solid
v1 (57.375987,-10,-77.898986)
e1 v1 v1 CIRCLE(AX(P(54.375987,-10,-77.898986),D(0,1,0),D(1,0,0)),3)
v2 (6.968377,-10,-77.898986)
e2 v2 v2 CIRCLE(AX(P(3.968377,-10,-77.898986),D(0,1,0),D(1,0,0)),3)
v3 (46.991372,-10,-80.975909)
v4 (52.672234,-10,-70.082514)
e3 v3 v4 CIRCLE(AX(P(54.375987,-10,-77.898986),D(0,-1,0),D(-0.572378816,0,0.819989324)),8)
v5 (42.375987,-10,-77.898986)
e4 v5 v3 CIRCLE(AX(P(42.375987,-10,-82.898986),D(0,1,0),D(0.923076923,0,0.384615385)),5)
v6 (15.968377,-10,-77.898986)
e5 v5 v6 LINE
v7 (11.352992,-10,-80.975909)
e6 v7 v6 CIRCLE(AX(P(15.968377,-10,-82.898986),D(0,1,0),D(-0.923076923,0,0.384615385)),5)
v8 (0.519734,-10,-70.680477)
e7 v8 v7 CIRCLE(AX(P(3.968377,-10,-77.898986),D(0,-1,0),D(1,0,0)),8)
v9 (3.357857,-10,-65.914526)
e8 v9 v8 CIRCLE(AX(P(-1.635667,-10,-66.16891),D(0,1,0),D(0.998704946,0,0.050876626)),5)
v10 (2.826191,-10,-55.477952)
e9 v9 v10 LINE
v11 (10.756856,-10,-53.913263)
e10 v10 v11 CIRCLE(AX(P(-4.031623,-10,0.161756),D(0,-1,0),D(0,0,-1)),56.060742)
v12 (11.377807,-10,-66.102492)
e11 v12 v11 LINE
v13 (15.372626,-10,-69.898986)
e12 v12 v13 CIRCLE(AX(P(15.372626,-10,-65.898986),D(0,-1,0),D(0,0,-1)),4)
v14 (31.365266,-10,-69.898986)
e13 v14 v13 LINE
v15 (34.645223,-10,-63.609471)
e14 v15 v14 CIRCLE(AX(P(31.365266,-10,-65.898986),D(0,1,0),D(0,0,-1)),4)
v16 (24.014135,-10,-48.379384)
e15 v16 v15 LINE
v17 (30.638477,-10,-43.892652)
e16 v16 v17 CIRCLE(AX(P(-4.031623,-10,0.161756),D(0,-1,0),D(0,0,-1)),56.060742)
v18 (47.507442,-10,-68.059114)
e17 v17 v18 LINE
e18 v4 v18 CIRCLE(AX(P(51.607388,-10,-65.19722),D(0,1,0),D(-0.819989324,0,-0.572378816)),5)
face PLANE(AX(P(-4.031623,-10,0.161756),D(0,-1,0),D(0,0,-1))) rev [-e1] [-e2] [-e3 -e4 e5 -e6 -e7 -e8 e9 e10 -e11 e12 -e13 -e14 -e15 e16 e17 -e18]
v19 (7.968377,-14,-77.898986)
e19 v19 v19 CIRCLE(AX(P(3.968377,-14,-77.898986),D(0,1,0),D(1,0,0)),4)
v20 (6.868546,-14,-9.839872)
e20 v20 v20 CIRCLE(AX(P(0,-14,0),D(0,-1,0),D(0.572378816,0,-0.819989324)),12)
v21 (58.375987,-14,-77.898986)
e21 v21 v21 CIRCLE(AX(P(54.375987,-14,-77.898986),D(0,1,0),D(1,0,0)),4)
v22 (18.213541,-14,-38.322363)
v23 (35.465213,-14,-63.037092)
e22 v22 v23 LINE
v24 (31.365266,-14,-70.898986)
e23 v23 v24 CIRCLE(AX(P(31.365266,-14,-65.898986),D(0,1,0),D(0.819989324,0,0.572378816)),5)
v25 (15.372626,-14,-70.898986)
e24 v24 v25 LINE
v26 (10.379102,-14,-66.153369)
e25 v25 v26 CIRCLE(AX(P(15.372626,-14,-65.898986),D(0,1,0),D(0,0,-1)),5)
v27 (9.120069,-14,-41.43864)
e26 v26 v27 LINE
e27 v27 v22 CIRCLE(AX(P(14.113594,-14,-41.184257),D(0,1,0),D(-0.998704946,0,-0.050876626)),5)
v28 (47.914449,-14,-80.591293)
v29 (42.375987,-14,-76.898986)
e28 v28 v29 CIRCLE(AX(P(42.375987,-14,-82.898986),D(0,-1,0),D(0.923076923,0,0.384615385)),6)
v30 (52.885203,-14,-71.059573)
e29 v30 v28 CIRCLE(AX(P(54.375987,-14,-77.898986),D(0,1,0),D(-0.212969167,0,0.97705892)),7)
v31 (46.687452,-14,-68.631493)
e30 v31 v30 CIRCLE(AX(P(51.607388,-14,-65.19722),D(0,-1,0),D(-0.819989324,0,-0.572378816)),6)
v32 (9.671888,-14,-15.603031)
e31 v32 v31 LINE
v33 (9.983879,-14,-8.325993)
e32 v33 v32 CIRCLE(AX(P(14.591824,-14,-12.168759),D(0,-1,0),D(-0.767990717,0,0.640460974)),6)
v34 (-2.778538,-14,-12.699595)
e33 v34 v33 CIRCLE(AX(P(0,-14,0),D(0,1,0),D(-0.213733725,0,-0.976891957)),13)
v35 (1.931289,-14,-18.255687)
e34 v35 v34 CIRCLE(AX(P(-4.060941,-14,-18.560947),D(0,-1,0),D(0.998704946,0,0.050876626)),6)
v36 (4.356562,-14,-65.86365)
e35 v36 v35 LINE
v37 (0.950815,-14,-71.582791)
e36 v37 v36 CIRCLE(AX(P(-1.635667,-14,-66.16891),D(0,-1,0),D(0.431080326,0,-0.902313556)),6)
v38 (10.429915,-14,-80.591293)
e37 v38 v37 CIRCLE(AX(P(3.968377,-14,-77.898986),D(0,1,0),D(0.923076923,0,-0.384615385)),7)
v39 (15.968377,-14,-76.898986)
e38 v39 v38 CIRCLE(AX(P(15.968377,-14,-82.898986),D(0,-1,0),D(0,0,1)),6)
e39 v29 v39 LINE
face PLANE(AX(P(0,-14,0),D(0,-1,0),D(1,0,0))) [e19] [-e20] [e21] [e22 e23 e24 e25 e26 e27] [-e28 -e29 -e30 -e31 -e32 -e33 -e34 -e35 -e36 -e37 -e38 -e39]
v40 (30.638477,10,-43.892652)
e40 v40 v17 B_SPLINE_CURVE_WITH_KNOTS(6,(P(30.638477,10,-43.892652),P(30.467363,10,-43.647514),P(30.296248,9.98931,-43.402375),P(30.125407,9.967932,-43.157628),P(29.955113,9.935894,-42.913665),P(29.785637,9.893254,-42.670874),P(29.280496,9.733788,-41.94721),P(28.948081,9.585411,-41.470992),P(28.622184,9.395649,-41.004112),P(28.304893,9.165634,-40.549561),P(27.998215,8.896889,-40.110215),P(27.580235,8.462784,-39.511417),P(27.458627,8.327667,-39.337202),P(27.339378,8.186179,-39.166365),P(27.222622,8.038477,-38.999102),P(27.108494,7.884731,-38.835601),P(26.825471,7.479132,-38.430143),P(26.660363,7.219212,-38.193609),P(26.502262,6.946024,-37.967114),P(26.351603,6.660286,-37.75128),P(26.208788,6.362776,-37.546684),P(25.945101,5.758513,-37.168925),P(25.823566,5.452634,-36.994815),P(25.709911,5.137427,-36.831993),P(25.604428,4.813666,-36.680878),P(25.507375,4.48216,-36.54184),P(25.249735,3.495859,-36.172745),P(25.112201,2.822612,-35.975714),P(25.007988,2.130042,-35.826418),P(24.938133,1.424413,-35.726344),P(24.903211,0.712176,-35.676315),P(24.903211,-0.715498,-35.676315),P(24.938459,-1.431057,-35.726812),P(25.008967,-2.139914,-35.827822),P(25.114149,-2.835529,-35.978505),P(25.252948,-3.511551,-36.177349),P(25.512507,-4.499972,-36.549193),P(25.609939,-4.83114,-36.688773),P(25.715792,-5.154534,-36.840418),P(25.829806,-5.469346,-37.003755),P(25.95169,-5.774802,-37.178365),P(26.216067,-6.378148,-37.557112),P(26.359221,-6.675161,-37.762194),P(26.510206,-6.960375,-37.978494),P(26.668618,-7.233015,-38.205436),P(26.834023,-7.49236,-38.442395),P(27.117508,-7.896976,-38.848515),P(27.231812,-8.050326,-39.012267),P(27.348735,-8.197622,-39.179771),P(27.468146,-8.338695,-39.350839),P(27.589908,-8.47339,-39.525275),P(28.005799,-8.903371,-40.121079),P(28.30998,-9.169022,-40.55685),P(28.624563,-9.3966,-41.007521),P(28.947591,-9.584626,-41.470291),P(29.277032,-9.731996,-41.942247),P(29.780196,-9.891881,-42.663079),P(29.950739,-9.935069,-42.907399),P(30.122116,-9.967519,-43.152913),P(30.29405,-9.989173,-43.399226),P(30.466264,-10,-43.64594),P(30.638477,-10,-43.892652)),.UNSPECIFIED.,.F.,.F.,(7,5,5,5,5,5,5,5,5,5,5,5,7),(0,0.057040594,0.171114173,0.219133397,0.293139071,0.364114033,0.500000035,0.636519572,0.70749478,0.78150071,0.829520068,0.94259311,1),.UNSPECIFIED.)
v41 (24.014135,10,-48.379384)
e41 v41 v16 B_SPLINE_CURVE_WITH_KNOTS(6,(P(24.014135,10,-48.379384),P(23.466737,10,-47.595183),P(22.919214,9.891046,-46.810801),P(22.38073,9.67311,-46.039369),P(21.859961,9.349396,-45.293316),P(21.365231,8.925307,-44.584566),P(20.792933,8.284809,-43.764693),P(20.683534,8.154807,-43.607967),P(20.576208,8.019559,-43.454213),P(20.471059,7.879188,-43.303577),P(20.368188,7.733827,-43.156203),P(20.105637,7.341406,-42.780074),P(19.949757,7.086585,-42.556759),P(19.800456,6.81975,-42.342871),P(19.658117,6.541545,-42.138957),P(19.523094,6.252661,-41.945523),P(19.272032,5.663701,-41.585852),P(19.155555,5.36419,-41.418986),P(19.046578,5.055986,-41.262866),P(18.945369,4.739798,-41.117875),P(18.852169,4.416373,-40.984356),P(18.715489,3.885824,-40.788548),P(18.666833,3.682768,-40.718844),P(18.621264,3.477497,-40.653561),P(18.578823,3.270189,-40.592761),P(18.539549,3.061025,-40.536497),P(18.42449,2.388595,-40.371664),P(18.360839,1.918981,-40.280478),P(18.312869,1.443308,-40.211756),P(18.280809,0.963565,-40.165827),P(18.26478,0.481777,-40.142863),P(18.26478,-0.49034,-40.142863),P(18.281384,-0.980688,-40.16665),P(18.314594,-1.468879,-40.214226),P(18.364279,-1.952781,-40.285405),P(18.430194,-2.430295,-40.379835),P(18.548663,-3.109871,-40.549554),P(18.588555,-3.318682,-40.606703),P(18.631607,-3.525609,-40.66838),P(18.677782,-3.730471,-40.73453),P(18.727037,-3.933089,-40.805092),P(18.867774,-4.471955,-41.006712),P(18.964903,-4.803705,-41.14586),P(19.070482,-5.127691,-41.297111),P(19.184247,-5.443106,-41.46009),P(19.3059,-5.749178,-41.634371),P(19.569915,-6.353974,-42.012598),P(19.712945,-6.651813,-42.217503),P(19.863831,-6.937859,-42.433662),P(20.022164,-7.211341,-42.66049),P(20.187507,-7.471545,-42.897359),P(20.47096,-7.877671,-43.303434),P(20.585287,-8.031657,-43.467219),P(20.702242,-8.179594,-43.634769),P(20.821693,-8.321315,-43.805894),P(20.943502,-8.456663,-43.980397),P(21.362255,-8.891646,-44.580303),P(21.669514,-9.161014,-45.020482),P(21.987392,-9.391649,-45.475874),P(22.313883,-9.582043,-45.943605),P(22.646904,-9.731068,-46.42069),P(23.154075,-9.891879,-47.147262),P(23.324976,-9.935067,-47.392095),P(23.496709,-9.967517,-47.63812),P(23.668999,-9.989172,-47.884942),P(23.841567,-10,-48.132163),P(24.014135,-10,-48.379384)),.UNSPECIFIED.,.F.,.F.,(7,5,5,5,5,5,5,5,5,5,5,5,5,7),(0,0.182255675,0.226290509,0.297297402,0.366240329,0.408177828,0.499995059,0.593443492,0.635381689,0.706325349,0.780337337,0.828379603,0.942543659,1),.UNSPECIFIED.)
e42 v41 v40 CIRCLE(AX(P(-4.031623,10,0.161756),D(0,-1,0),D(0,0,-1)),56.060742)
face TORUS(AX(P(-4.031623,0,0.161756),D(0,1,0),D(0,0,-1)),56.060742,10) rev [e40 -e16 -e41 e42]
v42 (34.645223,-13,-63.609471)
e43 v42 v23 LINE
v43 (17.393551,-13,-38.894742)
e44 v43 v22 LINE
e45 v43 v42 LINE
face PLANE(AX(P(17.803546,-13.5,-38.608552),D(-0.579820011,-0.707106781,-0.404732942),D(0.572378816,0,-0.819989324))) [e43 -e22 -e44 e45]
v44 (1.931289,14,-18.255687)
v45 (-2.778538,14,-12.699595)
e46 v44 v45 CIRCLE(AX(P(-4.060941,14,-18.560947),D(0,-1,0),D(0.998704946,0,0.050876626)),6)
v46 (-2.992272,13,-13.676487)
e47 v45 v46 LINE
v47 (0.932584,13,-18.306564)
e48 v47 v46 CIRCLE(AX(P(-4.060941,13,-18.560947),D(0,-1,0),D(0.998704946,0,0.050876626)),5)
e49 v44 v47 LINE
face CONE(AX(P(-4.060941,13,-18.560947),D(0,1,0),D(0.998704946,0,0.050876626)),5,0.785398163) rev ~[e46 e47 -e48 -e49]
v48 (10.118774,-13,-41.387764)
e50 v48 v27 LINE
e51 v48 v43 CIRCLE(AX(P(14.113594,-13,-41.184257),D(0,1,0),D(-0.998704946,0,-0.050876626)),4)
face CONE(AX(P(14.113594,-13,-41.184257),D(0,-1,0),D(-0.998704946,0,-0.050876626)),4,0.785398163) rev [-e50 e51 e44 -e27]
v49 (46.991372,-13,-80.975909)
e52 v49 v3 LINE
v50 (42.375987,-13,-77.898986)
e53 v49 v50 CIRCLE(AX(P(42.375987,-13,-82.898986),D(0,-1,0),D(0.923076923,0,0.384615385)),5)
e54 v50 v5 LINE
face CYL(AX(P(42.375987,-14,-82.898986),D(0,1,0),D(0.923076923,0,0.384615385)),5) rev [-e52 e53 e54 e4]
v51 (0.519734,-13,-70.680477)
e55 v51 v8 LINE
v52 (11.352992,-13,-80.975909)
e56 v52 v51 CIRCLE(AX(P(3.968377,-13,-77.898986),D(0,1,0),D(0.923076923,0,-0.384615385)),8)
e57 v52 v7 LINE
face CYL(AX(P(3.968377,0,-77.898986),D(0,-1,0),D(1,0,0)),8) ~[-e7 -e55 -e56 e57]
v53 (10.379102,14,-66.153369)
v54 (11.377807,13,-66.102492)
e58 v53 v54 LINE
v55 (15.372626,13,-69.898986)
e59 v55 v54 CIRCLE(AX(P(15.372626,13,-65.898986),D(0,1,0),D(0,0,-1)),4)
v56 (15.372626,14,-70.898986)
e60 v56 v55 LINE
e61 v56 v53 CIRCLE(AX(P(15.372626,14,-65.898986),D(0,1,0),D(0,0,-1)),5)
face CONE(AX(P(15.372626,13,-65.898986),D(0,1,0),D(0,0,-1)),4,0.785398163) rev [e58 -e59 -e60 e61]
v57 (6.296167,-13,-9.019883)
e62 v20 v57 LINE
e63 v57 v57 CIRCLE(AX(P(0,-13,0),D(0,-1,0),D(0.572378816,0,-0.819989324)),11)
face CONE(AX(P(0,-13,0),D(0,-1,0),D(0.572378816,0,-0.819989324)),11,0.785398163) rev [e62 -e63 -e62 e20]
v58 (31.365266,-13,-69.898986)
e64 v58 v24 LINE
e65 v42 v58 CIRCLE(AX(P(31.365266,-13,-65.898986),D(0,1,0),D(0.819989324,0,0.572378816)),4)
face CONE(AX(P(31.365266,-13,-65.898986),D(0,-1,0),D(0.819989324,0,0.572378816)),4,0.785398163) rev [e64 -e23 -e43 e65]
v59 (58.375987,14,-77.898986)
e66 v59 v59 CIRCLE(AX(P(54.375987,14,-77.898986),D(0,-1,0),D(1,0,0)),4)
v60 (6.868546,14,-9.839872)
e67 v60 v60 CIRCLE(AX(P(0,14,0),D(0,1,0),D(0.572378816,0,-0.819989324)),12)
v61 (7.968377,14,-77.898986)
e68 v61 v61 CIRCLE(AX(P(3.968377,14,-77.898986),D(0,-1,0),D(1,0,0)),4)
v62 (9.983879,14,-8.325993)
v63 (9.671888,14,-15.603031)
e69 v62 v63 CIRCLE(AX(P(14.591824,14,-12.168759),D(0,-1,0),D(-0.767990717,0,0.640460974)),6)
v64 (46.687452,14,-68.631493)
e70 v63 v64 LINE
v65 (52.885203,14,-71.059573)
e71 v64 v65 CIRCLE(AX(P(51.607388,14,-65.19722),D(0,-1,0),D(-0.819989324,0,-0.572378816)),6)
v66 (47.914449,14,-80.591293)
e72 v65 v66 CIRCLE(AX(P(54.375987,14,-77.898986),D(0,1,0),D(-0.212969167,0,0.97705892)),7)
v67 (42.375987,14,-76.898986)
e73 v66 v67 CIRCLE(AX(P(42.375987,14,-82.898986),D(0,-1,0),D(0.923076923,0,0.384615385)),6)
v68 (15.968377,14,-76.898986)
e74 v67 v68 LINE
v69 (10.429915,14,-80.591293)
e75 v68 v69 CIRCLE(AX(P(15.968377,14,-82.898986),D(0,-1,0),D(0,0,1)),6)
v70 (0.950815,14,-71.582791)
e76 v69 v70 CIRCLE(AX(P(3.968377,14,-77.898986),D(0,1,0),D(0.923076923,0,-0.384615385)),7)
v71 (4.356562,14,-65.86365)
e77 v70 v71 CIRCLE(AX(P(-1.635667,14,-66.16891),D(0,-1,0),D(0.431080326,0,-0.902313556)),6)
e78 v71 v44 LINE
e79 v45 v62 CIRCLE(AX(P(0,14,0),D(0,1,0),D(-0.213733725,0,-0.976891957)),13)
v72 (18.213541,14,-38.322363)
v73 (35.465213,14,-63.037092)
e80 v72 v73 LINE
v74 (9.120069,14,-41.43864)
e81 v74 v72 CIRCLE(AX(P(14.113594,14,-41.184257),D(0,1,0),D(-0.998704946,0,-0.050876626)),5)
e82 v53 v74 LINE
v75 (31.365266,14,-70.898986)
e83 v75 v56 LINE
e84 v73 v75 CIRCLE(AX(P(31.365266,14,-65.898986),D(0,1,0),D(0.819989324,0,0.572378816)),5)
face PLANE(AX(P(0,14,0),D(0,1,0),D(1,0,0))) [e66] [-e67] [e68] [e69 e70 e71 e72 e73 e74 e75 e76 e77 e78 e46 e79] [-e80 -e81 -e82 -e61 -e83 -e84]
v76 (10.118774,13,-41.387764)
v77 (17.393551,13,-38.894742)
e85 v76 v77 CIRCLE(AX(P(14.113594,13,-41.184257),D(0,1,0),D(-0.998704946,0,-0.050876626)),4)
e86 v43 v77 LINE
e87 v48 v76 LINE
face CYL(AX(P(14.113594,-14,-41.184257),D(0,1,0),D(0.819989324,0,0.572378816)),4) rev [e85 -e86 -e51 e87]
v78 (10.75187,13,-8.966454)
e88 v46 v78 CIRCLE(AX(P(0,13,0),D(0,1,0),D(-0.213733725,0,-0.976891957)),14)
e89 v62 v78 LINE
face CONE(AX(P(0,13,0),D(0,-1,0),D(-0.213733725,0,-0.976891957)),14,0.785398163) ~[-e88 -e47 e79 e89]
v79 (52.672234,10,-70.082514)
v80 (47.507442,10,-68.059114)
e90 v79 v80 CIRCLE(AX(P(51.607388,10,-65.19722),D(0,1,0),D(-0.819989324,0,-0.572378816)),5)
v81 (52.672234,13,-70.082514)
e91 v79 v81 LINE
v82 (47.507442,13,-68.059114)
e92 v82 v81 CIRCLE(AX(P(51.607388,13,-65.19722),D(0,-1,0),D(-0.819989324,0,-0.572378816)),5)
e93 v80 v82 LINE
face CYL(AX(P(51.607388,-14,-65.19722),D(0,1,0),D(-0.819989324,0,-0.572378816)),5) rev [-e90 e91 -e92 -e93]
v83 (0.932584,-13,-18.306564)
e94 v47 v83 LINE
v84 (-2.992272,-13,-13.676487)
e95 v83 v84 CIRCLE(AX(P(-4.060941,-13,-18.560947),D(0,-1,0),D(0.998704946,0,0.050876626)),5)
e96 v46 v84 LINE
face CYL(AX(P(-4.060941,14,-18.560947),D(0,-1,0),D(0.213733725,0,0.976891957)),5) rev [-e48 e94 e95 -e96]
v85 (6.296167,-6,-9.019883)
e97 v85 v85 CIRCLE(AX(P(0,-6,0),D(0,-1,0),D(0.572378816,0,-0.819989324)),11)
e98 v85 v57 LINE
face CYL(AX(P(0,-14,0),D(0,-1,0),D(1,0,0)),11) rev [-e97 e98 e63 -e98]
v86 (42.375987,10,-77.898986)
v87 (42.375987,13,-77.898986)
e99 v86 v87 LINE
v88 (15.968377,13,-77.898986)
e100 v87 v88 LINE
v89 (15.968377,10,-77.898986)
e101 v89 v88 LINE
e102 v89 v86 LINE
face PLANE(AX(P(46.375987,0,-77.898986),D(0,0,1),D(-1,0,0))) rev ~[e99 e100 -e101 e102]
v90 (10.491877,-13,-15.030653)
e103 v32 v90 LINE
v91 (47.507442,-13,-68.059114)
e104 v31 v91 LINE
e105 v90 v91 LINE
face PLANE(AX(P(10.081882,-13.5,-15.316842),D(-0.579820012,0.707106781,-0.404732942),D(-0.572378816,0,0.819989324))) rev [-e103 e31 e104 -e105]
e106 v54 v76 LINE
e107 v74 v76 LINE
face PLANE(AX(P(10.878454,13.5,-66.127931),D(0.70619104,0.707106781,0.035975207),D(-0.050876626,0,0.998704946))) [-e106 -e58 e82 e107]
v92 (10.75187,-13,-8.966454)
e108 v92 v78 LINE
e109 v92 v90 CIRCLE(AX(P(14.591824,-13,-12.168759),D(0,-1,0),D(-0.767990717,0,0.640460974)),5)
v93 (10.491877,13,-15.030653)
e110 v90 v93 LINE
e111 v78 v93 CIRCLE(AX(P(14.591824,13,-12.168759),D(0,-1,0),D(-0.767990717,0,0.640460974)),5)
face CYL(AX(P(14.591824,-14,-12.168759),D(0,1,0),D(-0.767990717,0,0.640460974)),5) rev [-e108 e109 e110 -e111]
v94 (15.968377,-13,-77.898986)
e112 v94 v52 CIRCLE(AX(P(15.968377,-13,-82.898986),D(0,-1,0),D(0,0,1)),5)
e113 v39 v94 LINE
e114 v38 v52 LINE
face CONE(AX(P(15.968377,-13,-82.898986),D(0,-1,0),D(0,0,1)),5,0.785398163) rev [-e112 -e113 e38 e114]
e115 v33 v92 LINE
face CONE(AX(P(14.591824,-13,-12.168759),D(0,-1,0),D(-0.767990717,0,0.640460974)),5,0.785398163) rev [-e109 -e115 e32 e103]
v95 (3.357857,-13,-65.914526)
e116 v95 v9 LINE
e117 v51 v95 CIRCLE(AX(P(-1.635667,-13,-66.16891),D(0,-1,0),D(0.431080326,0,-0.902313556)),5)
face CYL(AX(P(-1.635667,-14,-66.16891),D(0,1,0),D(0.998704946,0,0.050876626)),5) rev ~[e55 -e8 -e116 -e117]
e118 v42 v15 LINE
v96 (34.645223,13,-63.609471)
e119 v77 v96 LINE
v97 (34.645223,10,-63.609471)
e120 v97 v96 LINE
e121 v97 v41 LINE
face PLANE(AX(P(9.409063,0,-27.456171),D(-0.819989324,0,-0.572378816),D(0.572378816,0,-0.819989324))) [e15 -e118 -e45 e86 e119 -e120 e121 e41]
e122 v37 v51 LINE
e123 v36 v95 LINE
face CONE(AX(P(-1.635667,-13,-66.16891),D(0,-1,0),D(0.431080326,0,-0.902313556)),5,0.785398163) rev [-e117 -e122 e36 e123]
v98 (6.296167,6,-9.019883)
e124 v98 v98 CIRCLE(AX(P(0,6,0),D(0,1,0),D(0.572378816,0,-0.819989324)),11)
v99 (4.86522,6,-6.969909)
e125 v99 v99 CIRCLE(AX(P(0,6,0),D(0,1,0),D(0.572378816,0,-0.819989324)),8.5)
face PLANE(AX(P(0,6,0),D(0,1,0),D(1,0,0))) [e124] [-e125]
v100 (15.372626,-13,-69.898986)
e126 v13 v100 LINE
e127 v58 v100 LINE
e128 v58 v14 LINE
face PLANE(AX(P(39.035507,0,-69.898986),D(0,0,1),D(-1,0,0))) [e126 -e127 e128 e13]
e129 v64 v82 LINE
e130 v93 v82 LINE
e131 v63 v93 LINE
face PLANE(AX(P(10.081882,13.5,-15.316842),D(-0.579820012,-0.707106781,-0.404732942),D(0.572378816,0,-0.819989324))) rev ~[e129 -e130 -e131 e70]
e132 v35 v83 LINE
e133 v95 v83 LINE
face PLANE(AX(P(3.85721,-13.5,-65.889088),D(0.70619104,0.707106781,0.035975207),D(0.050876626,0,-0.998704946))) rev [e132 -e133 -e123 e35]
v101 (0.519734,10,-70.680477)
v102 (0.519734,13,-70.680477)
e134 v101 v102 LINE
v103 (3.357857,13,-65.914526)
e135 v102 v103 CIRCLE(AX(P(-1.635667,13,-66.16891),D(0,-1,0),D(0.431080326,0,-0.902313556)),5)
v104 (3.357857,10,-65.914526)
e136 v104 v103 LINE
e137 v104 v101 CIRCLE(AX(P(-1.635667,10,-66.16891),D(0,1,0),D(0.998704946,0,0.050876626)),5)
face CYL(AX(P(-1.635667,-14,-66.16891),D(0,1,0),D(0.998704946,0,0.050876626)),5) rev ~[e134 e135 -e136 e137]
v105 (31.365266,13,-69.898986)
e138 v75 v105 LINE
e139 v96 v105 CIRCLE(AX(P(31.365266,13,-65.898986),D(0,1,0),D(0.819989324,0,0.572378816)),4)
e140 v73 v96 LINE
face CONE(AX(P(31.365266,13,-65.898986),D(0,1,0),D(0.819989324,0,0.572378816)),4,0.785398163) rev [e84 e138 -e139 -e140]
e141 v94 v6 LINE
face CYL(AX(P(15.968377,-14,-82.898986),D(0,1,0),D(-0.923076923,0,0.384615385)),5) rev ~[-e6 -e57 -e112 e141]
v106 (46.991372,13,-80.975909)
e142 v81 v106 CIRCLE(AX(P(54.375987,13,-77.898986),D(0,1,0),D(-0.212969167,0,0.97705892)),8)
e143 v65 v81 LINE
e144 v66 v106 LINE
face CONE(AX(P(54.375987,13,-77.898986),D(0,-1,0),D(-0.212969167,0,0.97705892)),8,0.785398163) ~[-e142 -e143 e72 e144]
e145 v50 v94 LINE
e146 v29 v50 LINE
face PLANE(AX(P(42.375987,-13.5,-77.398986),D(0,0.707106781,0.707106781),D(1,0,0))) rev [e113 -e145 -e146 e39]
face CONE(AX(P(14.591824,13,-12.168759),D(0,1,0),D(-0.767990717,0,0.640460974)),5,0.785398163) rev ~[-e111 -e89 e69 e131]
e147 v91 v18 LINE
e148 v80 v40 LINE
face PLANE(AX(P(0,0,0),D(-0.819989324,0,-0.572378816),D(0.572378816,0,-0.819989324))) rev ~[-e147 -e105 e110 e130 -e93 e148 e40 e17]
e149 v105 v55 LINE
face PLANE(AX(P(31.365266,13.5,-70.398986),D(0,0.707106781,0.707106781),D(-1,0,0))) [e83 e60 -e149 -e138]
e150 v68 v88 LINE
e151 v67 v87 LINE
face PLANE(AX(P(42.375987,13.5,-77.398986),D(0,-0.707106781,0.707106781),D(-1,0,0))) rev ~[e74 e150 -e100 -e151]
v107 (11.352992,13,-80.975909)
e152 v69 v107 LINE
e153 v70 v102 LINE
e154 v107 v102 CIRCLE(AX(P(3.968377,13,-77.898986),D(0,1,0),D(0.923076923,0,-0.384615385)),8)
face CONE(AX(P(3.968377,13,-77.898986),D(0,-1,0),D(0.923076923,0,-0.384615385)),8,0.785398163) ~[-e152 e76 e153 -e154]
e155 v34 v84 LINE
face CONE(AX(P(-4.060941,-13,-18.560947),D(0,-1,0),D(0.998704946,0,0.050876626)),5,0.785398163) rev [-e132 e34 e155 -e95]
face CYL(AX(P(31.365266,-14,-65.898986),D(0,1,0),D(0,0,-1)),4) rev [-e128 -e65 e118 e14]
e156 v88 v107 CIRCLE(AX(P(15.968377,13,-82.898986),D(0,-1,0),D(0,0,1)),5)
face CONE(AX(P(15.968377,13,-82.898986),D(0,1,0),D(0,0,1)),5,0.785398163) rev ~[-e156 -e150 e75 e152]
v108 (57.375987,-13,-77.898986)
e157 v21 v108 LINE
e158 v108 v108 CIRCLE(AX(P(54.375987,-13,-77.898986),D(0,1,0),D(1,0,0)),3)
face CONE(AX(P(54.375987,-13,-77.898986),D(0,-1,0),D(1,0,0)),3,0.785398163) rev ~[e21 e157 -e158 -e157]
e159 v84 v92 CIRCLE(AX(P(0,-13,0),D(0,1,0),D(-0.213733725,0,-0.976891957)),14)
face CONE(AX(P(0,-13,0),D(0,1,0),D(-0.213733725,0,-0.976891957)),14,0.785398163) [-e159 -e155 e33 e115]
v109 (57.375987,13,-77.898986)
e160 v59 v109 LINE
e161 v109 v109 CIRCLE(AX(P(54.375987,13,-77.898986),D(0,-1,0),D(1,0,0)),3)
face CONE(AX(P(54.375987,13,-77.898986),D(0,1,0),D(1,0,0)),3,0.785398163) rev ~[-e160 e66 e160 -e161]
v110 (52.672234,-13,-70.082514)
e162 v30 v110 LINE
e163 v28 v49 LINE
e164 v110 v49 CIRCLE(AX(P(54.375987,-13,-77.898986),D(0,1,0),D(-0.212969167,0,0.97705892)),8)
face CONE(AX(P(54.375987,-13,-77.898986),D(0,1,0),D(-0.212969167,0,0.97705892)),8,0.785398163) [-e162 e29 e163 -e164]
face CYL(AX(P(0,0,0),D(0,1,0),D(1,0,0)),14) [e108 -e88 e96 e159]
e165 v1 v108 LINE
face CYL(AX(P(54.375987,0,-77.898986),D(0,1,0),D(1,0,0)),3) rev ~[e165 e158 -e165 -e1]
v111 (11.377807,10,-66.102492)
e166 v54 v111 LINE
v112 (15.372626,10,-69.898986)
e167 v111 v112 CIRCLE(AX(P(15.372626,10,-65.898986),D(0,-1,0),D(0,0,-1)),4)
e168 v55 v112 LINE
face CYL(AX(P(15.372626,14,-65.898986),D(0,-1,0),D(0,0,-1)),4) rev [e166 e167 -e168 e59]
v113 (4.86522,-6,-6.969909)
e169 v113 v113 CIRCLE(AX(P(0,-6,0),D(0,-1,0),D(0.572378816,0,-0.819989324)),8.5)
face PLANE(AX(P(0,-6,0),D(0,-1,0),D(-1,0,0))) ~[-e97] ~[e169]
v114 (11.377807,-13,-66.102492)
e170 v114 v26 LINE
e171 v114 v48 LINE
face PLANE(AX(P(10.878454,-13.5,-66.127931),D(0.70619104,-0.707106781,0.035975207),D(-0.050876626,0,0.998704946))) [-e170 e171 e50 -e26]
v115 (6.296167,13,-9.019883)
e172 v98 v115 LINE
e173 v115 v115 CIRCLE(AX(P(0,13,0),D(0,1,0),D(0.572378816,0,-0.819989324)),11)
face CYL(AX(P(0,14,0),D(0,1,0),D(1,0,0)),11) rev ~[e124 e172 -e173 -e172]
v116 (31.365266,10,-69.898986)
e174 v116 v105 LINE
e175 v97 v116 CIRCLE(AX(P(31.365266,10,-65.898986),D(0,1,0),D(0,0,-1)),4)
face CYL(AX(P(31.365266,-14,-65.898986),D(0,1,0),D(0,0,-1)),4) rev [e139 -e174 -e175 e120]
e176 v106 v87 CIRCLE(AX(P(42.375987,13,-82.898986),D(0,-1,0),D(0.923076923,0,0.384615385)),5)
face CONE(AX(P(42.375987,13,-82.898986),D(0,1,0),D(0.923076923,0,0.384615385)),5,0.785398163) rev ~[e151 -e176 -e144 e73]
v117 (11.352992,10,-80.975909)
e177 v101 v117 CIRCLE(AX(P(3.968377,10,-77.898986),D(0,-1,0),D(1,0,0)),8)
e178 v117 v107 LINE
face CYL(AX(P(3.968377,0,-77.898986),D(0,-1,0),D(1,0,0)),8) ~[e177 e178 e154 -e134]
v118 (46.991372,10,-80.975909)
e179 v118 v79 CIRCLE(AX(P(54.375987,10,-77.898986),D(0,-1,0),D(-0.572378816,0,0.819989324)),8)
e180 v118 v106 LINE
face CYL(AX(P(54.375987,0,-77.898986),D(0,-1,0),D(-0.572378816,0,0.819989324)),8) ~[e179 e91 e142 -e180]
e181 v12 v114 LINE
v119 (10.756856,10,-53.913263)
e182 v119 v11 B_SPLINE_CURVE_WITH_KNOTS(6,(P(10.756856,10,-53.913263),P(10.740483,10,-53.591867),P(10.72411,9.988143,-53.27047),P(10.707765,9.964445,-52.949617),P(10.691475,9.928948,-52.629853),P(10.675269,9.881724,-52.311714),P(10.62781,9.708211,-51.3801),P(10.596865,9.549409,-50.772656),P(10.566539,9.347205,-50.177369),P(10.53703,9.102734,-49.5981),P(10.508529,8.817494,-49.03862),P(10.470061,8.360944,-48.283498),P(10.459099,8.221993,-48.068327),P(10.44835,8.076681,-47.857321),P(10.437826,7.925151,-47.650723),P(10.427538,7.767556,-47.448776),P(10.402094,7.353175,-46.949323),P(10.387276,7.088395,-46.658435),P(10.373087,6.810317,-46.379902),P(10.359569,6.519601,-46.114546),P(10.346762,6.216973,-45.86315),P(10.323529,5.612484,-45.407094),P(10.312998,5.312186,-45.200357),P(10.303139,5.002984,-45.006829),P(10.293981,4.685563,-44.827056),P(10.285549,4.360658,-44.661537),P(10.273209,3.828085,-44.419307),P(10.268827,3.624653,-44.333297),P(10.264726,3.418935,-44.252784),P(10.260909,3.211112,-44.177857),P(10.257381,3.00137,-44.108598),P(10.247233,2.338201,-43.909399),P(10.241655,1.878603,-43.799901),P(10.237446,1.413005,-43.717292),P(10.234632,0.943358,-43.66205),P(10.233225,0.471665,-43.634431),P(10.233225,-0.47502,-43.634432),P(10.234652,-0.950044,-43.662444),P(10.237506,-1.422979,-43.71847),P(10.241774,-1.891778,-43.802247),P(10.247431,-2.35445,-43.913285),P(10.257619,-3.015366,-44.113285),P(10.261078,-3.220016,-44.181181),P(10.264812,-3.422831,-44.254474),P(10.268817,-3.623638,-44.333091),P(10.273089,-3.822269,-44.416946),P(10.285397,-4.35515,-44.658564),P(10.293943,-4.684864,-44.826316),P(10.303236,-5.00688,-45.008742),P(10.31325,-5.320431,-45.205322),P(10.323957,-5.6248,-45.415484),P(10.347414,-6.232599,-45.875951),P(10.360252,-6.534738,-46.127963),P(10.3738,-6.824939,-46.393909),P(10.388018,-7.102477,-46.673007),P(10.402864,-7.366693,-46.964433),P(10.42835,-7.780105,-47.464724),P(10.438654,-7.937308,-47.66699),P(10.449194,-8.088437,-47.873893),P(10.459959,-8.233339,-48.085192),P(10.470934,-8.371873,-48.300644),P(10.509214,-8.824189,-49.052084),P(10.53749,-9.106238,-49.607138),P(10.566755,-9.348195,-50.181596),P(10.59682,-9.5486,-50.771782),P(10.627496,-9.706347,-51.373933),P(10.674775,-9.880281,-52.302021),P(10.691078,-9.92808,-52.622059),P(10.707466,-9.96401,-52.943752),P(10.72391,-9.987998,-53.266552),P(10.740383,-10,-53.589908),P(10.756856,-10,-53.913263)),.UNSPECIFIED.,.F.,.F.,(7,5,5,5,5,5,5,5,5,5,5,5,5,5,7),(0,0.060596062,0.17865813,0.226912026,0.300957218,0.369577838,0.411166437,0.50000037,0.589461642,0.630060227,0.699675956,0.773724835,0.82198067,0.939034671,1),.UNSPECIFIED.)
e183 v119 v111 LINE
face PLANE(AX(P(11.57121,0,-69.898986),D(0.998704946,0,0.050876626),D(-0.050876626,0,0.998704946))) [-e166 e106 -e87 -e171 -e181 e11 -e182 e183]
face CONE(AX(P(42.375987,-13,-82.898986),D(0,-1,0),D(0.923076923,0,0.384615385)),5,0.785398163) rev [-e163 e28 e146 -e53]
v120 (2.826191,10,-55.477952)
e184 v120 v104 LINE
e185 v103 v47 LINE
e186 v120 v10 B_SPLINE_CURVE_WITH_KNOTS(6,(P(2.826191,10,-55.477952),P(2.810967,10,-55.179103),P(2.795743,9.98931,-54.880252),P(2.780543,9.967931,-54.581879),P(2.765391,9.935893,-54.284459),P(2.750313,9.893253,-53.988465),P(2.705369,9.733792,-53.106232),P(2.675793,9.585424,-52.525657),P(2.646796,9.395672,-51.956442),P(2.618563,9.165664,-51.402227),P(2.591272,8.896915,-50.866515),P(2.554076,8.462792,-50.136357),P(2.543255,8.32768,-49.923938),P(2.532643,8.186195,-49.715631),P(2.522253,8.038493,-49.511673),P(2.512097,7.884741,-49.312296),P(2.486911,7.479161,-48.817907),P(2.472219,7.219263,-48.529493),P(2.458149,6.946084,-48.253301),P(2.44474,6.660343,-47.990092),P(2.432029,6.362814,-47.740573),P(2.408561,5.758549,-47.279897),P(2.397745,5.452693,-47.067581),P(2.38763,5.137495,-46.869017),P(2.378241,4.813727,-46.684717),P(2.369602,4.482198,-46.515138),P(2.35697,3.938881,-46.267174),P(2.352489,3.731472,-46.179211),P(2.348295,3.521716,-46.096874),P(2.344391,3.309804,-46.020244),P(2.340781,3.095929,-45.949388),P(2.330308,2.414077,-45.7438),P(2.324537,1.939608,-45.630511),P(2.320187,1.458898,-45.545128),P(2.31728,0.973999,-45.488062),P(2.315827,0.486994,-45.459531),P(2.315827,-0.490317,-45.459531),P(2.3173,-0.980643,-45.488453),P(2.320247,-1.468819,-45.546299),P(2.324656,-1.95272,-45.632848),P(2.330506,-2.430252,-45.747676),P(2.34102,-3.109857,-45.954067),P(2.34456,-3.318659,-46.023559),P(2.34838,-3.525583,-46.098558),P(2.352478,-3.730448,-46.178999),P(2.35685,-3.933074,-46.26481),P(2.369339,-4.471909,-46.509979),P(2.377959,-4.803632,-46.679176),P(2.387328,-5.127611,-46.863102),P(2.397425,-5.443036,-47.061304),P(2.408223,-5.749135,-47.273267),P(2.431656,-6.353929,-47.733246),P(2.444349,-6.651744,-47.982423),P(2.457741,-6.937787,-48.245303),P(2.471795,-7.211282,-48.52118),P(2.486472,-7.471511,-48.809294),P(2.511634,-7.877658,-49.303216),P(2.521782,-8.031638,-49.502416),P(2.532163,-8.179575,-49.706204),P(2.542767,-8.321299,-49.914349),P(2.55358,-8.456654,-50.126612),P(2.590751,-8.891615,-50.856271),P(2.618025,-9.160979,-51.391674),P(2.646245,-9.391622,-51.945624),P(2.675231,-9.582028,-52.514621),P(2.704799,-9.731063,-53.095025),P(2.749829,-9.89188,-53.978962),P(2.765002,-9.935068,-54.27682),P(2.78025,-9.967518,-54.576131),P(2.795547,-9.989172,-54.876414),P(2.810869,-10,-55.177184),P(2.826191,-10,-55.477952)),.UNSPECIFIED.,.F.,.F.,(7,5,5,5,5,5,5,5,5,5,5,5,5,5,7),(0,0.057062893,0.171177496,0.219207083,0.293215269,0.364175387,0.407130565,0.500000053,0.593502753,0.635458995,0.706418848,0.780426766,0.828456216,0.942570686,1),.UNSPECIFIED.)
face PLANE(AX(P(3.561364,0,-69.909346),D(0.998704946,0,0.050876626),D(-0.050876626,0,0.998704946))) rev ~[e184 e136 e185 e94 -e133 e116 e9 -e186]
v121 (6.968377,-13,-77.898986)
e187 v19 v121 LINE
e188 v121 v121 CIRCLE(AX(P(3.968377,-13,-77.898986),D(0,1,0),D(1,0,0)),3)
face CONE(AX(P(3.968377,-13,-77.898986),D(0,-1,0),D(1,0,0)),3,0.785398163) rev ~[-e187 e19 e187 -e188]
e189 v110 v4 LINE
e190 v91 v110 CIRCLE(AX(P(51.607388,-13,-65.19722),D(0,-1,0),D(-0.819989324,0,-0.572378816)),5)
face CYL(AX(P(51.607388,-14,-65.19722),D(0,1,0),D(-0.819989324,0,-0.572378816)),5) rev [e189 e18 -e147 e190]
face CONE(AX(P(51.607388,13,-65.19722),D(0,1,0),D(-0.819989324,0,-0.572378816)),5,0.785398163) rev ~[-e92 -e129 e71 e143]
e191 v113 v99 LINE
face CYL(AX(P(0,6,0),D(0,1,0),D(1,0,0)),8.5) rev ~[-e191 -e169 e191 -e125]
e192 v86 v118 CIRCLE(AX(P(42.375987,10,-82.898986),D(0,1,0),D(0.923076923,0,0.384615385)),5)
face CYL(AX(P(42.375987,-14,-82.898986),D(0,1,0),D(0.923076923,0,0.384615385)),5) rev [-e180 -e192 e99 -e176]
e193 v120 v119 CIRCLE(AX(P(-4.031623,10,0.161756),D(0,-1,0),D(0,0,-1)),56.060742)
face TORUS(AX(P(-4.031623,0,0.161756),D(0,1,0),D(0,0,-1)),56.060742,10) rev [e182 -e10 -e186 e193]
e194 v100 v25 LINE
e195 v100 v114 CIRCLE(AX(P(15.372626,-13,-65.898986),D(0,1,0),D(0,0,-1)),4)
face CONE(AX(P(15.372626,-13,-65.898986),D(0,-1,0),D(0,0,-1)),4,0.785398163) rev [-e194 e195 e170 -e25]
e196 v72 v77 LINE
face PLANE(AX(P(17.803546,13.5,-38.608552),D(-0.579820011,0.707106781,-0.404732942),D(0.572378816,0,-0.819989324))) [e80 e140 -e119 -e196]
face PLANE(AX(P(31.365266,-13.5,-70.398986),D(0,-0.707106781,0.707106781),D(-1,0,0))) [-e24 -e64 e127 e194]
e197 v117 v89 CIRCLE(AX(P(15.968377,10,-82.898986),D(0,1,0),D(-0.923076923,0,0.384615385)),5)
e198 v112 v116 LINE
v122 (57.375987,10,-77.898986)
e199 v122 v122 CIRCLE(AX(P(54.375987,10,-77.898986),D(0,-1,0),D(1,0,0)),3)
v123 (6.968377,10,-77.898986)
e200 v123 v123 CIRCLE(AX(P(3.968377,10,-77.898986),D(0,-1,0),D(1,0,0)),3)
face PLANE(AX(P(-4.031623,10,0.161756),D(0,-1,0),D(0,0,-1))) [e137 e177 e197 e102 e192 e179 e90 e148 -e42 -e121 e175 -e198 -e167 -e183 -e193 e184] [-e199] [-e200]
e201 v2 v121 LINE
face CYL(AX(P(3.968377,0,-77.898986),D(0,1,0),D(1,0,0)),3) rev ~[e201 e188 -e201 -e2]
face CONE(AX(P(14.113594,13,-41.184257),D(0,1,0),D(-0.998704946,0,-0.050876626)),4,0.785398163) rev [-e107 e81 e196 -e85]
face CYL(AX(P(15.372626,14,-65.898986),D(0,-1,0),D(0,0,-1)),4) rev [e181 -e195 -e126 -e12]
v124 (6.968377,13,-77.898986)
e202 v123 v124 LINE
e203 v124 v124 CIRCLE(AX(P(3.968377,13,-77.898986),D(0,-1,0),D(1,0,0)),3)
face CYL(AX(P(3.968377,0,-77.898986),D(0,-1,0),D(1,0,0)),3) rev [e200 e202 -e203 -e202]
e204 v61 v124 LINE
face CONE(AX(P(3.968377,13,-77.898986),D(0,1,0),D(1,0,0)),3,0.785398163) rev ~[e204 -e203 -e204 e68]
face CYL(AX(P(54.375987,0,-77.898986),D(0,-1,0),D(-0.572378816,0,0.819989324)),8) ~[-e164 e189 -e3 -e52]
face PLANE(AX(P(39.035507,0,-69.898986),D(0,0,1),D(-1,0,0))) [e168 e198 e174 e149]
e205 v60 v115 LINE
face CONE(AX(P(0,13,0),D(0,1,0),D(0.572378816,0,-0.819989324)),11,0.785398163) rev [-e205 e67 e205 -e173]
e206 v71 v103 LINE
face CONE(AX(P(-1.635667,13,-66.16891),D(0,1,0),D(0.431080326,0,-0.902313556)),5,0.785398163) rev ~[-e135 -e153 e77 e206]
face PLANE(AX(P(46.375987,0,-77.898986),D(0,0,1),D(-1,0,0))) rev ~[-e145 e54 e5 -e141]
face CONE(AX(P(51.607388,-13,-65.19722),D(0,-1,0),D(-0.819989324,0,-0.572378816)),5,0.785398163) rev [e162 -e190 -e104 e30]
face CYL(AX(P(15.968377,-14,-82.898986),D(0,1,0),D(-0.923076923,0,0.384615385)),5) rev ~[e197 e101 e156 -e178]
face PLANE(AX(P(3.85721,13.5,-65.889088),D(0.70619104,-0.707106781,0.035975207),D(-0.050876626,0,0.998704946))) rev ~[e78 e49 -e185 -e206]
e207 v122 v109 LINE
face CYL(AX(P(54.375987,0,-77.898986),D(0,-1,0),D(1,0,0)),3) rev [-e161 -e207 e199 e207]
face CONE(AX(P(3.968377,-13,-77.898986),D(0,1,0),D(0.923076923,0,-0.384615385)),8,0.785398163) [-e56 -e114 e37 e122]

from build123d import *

# Parameters (mm, degrees)
SKETCH1_R                       = 14
BOSS_EXTRUDE1_DEPTH             = 14
SKETCH4_R                       = 11
CUT_EXTRUDE1_DEPTH              = 8
SKETCH5_R                       = 8.5
CUT_EXTRUDE2_DEPTH              = 21
BOSS_EXTRUDE2_REACH             = 16
BOSS_EXTRUDE2_DIRECTION_2_REACH = 16
SKETCH8_R                       = 3
CUT_EXTRUDE3_DEPTH              = 15
CUT_EXTRUDE3_DEPTH_BACK         = 15
FILLET1_R                       = 5
FILLET2_R                       = 4
CHAMFER1_SIZE                   = 1


with BuildPart() as part:
    # Sketch1 → Boss-Extrude1 (new body, symmetric)
    with BuildSketch(Plane(origin=(0, 0, 0), x_dir=(1, 0, 0), z_dir=(0, 1, 0))):
        Circle(SKETCH1_R)
    extrude(amount=BOSS_EXTRUDE1_DEPTH, both=True)

    # Sketch4 → Cut-Extrude1 (cut)
    with BuildSketch(Plane(origin=(0, 14, 0), x_dir=(1, 0, 0), z_dir=(0, 1, 0))):
        Circle(SKETCH4_R)
    cut_extrude1 = extrude(amount=-CUT_EXTRUDE1_DEPTH, mode=Mode.SUBTRACT)

    # Mirror1: Cut-Extrude1 across plane
    add(cut_extrude1.mirror(Plane.ZX), mode=Mode.SUBTRACT)

    # Sketch5 → Cut-Extrude2 (cut, through all)
    with BuildSketch(Plane(origin=(0, 6, 0), x_dir=(1, 0, 0), z_dir=(0, 1, 0))):
        Circle(SKETCH5_R)
    extrude(amount=-CUT_EXTRUDE2_DEPTH, mode=Mode.SUBTRACT)

    # Boss-Extrude2: up to this face of the body (flat: up to its plane)
    boss_extrude2_end = Plane(part.part.faces().sort_by_distance((-13.604020203, 14, 0))[0])
    # Sketch6 → Boss-Extrude2 (add, up to the picked face)
    with BuildSketch(Plane(origin=(0, 0, 0), x_dir=(1, 0, 0), z_dir=(0, 1, 0)), mode=Mode.PRIVATE) as boss_extrude2_sk1:
        with BuildLine():
            Line((0, 0), (49.796956955, 71.339071188))
            ThreePointArc((49.796956955, 71.339071188), (61.469373279, 81.598158377), (46.37598748, 77.89898578))
            Line((46.37598748, 77.89898578), (11.968376795, 77.89898578))
            ThreePointArc((11.968376795, 77.89898578), (-1.542698235, 83.697955691), (3.56136379, 69.909346213))
            Line((3.56136379, 69.909346213), (0, 0))
        make_face()
        Polygon((9.409062598, 27.456171423), (39.035506627, 69.89898578), (11.57120987, 69.89898578), align=None, mode=Mode.SUBTRACT)
    boss_extrude2_tool1 = split(extrude(boss_extrude2_sk1.sketch, amount=BOSS_EXTRUDE2_REACH, mode=Mode.PRIVATE), bisect_by=boss_extrude2_end, keep=Keep.BOTH, mode=Mode.PRIVATE)
    add(boss_extrude2_tool1.solids().sort_by_distance((2.865029, 0, -34.899434))[0])

    # Boss-Extrude2 direction 2: up to this face of the body (flat: up to its plane)
    boss_extrude2_direction_2_end = Plane(part.part.faces().sort_by_distance((-13.604020203, -14, 0))[0])
    # Sketch6 → Boss-Extrude2 direction 2 (add, up to the picked face)
    with BuildSketch(Plane(origin=(0, 0, 0), x_dir=(1, 0, 0), z_dir=(0, 1, 0)), mode=Mode.PRIVATE) as boss_extrude2_direction_2_sk1:
        with BuildLine():
            Line((0, 0), (49.796956955, 71.339071188))
            ThreePointArc((49.796956955, 71.339071188), (61.469373279, 81.598158377), (46.37598748, 77.89898578))
            Line((46.37598748, 77.89898578), (11.968376795, 77.89898578))
            ThreePointArc((11.968376795, 77.89898578), (-1.542698235, 83.697955691), (3.56136379, 69.909346213))
            Line((3.56136379, 69.909346213), (0, 0))
        make_face()
        Polygon((9.409062598, 27.456171423), (39.035506627, 69.89898578), (11.57120987, 69.89898578), align=None, mode=Mode.SUBTRACT)
    boss_extrude2_direction_2_tool1 = split(extrude(boss_extrude2_direction_2_sk1.sketch, amount=-BOSS_EXTRUDE2_DIRECTION_2_REACH, mode=Mode.PRIVATE), bisect_by=boss_extrude2_direction_2_end, keep=Keep.BOTH, mode=Mode.PRIVATE)
    add(boss_extrude2_direction_2_tool1.solids().sort_by_distance((2.865029, 0, -34.899434))[0])

    # Sketch7 → Cut-Revolve1 (revolve, cut)
    with BuildSketch(Plane.XY):
        Polygon((0, 14), (0, -14), (11, -14), (11, -6), (8.5, -6), (8.5, 6), (11, 6), (11, 14), align=None)
    revolve(axis=Axis((0, 14, 0), (0, -1, 0)), mode=Mode.SUBTRACT)

    # Sketch8 → Cut-Extrude3 (cut, two sides)
    with BuildSketch(Plane(origin=(0, 0, 0), x_dir=(1, 0, 0), z_dir=(0, 1, 0))) as cut_extrude3_sk:
        with Locations((3.968376795, 77.89898578)):
            Circle(SKETCH8_R)
        with Locations((54.37598748, 77.89898578)):
            Circle(SKETCH8_R)
    extrude(amount=CUT_EXTRUDE3_DEPTH, mode=Mode.SUBTRACT)
    extrude(cut_extrude3_sk.sketch, amount=-CUT_EXTRUDE3_DEPTH_BACK, mode=Mode.SUBTRACT)

    # Fillet1
    fillet1_edges = [part.edges().sort_by_distance(p)[0] for p in [
        (8.013303418, 0, -11.479850536),
        (0.712272758, 0, -13.981869243),
        (3.56136379, 0, -69.909346213),
        (11.968376795, 0, -77.89898578),
        (46.37598748, 0, -77.89898578),
        (49.796956955, 0, -71.339071188),
    ]]
    fillet(fillet1_edges, radius=FILLET1_R)

    # Fillet2
    fillet2_edges = [part.edges().sort_by_distance(p)[0] for p in [
        (11.57120987, 0, -69.89898578),
        (39.035506627, 0, -69.89898578),
        (9.409062598, 0, -27.456171423),
    ]]
    fillet(fillet2_edges, radius=FILLET2_R)

    # Sketch10 → Cut-Revolve2 (revolve, cut)
    with BuildSketch(Plane.ZY.offset(4.031623205)):
        with BuildLine():
            Line((-115.89898578, 10), (-55.89898578, 10))
            ThreePointArc((-55.89898578, 10), (-45.89898578, 0), (-55.89898578, -10))
            Line((-55.89898578, -10), (-115.89898578, -10))
            Line((-115.89898578, -10), (-115.89898578, 10))
        make_face()
    revolve(axis=Axis((-4.031623205, 14, 0.161756304), (0, -1, 0)), mode=Mode.SUBTRACT)

    # Chamfer1
    chamfer1_edges = [part.edges().sort_by_distance(p)[0] for p in [
        (45.149488461, -14, -78.738734309),
        (45.149488461, 14, -78.738734309),
        (13.194875814, -14, -78.738734309),
        (13.194875814, 14, -78.738734309),
        (26.019387345, 14, -51.252106195),
        (26.019387345, -14, -51.252106195),
        (23.368946304, 14, -69.89898578),
        (23.368946304, -14, -69.89898578),
        (10.748290369, 14, -53.74512796),
        (10.748290369, -14, -53.74512796),
        (34.9119591, -14, -67.748572079),
        (34.9119591, 14, -67.748572079),
        (12.617088893, -14, -68.798470735),
        (12.617088893, 14, -68.798470735),
        (12.81684933, -14, -37.400283889),
        (12.81684933, 14, -37.400283889),
        (-6.296166971, -14, 9.019882564),
        (-6.296166971, 14, 9.019882564),
        (0.968376795, -14, -77.89898578),
        (0.968376795, 14, -77.89898578),
        (51.37598748, -14, -77.89898578),
        (51.37598748, 14, -77.89898578),
        (28.999659343, 14, -41.544883239),
        (28.999659343, -14, -41.544883239),
        (-4.538605987, 14, 13.243906361),
        (-4.538605987, -14, 13.243906361),
        (2.14522062, -14, -42.110545238),
        (2.14522062, 14, -42.110545238),
        (-1.542698235, 14, -83.697955691),
        (-1.542698235, -14, -83.697955691),
        (61.469373279, 14, -81.598158377),
        (61.469373279, -14, -81.598158377),
        (29.172182137, 14, -77.89898578),
        (29.172182137, -14, -77.89898578),
        (9.596412617, -14, -11.95458808),
        (9.596412617, 14, -11.95458808),
        (-0.246894433, 14, -15.32782941),
        (-0.246894433, -14, -15.32782941),
        (2.66030265, -14, -68.727159148),
        (2.66030265, 14, -68.727159148),
        (49.783519727, -14, -69.852700819),
        (49.783519727, 14, -69.852700819),
    ]]
    chamfer(chamfer1_edges, length=CHAMFER1_SIZE)


solid = part.part
